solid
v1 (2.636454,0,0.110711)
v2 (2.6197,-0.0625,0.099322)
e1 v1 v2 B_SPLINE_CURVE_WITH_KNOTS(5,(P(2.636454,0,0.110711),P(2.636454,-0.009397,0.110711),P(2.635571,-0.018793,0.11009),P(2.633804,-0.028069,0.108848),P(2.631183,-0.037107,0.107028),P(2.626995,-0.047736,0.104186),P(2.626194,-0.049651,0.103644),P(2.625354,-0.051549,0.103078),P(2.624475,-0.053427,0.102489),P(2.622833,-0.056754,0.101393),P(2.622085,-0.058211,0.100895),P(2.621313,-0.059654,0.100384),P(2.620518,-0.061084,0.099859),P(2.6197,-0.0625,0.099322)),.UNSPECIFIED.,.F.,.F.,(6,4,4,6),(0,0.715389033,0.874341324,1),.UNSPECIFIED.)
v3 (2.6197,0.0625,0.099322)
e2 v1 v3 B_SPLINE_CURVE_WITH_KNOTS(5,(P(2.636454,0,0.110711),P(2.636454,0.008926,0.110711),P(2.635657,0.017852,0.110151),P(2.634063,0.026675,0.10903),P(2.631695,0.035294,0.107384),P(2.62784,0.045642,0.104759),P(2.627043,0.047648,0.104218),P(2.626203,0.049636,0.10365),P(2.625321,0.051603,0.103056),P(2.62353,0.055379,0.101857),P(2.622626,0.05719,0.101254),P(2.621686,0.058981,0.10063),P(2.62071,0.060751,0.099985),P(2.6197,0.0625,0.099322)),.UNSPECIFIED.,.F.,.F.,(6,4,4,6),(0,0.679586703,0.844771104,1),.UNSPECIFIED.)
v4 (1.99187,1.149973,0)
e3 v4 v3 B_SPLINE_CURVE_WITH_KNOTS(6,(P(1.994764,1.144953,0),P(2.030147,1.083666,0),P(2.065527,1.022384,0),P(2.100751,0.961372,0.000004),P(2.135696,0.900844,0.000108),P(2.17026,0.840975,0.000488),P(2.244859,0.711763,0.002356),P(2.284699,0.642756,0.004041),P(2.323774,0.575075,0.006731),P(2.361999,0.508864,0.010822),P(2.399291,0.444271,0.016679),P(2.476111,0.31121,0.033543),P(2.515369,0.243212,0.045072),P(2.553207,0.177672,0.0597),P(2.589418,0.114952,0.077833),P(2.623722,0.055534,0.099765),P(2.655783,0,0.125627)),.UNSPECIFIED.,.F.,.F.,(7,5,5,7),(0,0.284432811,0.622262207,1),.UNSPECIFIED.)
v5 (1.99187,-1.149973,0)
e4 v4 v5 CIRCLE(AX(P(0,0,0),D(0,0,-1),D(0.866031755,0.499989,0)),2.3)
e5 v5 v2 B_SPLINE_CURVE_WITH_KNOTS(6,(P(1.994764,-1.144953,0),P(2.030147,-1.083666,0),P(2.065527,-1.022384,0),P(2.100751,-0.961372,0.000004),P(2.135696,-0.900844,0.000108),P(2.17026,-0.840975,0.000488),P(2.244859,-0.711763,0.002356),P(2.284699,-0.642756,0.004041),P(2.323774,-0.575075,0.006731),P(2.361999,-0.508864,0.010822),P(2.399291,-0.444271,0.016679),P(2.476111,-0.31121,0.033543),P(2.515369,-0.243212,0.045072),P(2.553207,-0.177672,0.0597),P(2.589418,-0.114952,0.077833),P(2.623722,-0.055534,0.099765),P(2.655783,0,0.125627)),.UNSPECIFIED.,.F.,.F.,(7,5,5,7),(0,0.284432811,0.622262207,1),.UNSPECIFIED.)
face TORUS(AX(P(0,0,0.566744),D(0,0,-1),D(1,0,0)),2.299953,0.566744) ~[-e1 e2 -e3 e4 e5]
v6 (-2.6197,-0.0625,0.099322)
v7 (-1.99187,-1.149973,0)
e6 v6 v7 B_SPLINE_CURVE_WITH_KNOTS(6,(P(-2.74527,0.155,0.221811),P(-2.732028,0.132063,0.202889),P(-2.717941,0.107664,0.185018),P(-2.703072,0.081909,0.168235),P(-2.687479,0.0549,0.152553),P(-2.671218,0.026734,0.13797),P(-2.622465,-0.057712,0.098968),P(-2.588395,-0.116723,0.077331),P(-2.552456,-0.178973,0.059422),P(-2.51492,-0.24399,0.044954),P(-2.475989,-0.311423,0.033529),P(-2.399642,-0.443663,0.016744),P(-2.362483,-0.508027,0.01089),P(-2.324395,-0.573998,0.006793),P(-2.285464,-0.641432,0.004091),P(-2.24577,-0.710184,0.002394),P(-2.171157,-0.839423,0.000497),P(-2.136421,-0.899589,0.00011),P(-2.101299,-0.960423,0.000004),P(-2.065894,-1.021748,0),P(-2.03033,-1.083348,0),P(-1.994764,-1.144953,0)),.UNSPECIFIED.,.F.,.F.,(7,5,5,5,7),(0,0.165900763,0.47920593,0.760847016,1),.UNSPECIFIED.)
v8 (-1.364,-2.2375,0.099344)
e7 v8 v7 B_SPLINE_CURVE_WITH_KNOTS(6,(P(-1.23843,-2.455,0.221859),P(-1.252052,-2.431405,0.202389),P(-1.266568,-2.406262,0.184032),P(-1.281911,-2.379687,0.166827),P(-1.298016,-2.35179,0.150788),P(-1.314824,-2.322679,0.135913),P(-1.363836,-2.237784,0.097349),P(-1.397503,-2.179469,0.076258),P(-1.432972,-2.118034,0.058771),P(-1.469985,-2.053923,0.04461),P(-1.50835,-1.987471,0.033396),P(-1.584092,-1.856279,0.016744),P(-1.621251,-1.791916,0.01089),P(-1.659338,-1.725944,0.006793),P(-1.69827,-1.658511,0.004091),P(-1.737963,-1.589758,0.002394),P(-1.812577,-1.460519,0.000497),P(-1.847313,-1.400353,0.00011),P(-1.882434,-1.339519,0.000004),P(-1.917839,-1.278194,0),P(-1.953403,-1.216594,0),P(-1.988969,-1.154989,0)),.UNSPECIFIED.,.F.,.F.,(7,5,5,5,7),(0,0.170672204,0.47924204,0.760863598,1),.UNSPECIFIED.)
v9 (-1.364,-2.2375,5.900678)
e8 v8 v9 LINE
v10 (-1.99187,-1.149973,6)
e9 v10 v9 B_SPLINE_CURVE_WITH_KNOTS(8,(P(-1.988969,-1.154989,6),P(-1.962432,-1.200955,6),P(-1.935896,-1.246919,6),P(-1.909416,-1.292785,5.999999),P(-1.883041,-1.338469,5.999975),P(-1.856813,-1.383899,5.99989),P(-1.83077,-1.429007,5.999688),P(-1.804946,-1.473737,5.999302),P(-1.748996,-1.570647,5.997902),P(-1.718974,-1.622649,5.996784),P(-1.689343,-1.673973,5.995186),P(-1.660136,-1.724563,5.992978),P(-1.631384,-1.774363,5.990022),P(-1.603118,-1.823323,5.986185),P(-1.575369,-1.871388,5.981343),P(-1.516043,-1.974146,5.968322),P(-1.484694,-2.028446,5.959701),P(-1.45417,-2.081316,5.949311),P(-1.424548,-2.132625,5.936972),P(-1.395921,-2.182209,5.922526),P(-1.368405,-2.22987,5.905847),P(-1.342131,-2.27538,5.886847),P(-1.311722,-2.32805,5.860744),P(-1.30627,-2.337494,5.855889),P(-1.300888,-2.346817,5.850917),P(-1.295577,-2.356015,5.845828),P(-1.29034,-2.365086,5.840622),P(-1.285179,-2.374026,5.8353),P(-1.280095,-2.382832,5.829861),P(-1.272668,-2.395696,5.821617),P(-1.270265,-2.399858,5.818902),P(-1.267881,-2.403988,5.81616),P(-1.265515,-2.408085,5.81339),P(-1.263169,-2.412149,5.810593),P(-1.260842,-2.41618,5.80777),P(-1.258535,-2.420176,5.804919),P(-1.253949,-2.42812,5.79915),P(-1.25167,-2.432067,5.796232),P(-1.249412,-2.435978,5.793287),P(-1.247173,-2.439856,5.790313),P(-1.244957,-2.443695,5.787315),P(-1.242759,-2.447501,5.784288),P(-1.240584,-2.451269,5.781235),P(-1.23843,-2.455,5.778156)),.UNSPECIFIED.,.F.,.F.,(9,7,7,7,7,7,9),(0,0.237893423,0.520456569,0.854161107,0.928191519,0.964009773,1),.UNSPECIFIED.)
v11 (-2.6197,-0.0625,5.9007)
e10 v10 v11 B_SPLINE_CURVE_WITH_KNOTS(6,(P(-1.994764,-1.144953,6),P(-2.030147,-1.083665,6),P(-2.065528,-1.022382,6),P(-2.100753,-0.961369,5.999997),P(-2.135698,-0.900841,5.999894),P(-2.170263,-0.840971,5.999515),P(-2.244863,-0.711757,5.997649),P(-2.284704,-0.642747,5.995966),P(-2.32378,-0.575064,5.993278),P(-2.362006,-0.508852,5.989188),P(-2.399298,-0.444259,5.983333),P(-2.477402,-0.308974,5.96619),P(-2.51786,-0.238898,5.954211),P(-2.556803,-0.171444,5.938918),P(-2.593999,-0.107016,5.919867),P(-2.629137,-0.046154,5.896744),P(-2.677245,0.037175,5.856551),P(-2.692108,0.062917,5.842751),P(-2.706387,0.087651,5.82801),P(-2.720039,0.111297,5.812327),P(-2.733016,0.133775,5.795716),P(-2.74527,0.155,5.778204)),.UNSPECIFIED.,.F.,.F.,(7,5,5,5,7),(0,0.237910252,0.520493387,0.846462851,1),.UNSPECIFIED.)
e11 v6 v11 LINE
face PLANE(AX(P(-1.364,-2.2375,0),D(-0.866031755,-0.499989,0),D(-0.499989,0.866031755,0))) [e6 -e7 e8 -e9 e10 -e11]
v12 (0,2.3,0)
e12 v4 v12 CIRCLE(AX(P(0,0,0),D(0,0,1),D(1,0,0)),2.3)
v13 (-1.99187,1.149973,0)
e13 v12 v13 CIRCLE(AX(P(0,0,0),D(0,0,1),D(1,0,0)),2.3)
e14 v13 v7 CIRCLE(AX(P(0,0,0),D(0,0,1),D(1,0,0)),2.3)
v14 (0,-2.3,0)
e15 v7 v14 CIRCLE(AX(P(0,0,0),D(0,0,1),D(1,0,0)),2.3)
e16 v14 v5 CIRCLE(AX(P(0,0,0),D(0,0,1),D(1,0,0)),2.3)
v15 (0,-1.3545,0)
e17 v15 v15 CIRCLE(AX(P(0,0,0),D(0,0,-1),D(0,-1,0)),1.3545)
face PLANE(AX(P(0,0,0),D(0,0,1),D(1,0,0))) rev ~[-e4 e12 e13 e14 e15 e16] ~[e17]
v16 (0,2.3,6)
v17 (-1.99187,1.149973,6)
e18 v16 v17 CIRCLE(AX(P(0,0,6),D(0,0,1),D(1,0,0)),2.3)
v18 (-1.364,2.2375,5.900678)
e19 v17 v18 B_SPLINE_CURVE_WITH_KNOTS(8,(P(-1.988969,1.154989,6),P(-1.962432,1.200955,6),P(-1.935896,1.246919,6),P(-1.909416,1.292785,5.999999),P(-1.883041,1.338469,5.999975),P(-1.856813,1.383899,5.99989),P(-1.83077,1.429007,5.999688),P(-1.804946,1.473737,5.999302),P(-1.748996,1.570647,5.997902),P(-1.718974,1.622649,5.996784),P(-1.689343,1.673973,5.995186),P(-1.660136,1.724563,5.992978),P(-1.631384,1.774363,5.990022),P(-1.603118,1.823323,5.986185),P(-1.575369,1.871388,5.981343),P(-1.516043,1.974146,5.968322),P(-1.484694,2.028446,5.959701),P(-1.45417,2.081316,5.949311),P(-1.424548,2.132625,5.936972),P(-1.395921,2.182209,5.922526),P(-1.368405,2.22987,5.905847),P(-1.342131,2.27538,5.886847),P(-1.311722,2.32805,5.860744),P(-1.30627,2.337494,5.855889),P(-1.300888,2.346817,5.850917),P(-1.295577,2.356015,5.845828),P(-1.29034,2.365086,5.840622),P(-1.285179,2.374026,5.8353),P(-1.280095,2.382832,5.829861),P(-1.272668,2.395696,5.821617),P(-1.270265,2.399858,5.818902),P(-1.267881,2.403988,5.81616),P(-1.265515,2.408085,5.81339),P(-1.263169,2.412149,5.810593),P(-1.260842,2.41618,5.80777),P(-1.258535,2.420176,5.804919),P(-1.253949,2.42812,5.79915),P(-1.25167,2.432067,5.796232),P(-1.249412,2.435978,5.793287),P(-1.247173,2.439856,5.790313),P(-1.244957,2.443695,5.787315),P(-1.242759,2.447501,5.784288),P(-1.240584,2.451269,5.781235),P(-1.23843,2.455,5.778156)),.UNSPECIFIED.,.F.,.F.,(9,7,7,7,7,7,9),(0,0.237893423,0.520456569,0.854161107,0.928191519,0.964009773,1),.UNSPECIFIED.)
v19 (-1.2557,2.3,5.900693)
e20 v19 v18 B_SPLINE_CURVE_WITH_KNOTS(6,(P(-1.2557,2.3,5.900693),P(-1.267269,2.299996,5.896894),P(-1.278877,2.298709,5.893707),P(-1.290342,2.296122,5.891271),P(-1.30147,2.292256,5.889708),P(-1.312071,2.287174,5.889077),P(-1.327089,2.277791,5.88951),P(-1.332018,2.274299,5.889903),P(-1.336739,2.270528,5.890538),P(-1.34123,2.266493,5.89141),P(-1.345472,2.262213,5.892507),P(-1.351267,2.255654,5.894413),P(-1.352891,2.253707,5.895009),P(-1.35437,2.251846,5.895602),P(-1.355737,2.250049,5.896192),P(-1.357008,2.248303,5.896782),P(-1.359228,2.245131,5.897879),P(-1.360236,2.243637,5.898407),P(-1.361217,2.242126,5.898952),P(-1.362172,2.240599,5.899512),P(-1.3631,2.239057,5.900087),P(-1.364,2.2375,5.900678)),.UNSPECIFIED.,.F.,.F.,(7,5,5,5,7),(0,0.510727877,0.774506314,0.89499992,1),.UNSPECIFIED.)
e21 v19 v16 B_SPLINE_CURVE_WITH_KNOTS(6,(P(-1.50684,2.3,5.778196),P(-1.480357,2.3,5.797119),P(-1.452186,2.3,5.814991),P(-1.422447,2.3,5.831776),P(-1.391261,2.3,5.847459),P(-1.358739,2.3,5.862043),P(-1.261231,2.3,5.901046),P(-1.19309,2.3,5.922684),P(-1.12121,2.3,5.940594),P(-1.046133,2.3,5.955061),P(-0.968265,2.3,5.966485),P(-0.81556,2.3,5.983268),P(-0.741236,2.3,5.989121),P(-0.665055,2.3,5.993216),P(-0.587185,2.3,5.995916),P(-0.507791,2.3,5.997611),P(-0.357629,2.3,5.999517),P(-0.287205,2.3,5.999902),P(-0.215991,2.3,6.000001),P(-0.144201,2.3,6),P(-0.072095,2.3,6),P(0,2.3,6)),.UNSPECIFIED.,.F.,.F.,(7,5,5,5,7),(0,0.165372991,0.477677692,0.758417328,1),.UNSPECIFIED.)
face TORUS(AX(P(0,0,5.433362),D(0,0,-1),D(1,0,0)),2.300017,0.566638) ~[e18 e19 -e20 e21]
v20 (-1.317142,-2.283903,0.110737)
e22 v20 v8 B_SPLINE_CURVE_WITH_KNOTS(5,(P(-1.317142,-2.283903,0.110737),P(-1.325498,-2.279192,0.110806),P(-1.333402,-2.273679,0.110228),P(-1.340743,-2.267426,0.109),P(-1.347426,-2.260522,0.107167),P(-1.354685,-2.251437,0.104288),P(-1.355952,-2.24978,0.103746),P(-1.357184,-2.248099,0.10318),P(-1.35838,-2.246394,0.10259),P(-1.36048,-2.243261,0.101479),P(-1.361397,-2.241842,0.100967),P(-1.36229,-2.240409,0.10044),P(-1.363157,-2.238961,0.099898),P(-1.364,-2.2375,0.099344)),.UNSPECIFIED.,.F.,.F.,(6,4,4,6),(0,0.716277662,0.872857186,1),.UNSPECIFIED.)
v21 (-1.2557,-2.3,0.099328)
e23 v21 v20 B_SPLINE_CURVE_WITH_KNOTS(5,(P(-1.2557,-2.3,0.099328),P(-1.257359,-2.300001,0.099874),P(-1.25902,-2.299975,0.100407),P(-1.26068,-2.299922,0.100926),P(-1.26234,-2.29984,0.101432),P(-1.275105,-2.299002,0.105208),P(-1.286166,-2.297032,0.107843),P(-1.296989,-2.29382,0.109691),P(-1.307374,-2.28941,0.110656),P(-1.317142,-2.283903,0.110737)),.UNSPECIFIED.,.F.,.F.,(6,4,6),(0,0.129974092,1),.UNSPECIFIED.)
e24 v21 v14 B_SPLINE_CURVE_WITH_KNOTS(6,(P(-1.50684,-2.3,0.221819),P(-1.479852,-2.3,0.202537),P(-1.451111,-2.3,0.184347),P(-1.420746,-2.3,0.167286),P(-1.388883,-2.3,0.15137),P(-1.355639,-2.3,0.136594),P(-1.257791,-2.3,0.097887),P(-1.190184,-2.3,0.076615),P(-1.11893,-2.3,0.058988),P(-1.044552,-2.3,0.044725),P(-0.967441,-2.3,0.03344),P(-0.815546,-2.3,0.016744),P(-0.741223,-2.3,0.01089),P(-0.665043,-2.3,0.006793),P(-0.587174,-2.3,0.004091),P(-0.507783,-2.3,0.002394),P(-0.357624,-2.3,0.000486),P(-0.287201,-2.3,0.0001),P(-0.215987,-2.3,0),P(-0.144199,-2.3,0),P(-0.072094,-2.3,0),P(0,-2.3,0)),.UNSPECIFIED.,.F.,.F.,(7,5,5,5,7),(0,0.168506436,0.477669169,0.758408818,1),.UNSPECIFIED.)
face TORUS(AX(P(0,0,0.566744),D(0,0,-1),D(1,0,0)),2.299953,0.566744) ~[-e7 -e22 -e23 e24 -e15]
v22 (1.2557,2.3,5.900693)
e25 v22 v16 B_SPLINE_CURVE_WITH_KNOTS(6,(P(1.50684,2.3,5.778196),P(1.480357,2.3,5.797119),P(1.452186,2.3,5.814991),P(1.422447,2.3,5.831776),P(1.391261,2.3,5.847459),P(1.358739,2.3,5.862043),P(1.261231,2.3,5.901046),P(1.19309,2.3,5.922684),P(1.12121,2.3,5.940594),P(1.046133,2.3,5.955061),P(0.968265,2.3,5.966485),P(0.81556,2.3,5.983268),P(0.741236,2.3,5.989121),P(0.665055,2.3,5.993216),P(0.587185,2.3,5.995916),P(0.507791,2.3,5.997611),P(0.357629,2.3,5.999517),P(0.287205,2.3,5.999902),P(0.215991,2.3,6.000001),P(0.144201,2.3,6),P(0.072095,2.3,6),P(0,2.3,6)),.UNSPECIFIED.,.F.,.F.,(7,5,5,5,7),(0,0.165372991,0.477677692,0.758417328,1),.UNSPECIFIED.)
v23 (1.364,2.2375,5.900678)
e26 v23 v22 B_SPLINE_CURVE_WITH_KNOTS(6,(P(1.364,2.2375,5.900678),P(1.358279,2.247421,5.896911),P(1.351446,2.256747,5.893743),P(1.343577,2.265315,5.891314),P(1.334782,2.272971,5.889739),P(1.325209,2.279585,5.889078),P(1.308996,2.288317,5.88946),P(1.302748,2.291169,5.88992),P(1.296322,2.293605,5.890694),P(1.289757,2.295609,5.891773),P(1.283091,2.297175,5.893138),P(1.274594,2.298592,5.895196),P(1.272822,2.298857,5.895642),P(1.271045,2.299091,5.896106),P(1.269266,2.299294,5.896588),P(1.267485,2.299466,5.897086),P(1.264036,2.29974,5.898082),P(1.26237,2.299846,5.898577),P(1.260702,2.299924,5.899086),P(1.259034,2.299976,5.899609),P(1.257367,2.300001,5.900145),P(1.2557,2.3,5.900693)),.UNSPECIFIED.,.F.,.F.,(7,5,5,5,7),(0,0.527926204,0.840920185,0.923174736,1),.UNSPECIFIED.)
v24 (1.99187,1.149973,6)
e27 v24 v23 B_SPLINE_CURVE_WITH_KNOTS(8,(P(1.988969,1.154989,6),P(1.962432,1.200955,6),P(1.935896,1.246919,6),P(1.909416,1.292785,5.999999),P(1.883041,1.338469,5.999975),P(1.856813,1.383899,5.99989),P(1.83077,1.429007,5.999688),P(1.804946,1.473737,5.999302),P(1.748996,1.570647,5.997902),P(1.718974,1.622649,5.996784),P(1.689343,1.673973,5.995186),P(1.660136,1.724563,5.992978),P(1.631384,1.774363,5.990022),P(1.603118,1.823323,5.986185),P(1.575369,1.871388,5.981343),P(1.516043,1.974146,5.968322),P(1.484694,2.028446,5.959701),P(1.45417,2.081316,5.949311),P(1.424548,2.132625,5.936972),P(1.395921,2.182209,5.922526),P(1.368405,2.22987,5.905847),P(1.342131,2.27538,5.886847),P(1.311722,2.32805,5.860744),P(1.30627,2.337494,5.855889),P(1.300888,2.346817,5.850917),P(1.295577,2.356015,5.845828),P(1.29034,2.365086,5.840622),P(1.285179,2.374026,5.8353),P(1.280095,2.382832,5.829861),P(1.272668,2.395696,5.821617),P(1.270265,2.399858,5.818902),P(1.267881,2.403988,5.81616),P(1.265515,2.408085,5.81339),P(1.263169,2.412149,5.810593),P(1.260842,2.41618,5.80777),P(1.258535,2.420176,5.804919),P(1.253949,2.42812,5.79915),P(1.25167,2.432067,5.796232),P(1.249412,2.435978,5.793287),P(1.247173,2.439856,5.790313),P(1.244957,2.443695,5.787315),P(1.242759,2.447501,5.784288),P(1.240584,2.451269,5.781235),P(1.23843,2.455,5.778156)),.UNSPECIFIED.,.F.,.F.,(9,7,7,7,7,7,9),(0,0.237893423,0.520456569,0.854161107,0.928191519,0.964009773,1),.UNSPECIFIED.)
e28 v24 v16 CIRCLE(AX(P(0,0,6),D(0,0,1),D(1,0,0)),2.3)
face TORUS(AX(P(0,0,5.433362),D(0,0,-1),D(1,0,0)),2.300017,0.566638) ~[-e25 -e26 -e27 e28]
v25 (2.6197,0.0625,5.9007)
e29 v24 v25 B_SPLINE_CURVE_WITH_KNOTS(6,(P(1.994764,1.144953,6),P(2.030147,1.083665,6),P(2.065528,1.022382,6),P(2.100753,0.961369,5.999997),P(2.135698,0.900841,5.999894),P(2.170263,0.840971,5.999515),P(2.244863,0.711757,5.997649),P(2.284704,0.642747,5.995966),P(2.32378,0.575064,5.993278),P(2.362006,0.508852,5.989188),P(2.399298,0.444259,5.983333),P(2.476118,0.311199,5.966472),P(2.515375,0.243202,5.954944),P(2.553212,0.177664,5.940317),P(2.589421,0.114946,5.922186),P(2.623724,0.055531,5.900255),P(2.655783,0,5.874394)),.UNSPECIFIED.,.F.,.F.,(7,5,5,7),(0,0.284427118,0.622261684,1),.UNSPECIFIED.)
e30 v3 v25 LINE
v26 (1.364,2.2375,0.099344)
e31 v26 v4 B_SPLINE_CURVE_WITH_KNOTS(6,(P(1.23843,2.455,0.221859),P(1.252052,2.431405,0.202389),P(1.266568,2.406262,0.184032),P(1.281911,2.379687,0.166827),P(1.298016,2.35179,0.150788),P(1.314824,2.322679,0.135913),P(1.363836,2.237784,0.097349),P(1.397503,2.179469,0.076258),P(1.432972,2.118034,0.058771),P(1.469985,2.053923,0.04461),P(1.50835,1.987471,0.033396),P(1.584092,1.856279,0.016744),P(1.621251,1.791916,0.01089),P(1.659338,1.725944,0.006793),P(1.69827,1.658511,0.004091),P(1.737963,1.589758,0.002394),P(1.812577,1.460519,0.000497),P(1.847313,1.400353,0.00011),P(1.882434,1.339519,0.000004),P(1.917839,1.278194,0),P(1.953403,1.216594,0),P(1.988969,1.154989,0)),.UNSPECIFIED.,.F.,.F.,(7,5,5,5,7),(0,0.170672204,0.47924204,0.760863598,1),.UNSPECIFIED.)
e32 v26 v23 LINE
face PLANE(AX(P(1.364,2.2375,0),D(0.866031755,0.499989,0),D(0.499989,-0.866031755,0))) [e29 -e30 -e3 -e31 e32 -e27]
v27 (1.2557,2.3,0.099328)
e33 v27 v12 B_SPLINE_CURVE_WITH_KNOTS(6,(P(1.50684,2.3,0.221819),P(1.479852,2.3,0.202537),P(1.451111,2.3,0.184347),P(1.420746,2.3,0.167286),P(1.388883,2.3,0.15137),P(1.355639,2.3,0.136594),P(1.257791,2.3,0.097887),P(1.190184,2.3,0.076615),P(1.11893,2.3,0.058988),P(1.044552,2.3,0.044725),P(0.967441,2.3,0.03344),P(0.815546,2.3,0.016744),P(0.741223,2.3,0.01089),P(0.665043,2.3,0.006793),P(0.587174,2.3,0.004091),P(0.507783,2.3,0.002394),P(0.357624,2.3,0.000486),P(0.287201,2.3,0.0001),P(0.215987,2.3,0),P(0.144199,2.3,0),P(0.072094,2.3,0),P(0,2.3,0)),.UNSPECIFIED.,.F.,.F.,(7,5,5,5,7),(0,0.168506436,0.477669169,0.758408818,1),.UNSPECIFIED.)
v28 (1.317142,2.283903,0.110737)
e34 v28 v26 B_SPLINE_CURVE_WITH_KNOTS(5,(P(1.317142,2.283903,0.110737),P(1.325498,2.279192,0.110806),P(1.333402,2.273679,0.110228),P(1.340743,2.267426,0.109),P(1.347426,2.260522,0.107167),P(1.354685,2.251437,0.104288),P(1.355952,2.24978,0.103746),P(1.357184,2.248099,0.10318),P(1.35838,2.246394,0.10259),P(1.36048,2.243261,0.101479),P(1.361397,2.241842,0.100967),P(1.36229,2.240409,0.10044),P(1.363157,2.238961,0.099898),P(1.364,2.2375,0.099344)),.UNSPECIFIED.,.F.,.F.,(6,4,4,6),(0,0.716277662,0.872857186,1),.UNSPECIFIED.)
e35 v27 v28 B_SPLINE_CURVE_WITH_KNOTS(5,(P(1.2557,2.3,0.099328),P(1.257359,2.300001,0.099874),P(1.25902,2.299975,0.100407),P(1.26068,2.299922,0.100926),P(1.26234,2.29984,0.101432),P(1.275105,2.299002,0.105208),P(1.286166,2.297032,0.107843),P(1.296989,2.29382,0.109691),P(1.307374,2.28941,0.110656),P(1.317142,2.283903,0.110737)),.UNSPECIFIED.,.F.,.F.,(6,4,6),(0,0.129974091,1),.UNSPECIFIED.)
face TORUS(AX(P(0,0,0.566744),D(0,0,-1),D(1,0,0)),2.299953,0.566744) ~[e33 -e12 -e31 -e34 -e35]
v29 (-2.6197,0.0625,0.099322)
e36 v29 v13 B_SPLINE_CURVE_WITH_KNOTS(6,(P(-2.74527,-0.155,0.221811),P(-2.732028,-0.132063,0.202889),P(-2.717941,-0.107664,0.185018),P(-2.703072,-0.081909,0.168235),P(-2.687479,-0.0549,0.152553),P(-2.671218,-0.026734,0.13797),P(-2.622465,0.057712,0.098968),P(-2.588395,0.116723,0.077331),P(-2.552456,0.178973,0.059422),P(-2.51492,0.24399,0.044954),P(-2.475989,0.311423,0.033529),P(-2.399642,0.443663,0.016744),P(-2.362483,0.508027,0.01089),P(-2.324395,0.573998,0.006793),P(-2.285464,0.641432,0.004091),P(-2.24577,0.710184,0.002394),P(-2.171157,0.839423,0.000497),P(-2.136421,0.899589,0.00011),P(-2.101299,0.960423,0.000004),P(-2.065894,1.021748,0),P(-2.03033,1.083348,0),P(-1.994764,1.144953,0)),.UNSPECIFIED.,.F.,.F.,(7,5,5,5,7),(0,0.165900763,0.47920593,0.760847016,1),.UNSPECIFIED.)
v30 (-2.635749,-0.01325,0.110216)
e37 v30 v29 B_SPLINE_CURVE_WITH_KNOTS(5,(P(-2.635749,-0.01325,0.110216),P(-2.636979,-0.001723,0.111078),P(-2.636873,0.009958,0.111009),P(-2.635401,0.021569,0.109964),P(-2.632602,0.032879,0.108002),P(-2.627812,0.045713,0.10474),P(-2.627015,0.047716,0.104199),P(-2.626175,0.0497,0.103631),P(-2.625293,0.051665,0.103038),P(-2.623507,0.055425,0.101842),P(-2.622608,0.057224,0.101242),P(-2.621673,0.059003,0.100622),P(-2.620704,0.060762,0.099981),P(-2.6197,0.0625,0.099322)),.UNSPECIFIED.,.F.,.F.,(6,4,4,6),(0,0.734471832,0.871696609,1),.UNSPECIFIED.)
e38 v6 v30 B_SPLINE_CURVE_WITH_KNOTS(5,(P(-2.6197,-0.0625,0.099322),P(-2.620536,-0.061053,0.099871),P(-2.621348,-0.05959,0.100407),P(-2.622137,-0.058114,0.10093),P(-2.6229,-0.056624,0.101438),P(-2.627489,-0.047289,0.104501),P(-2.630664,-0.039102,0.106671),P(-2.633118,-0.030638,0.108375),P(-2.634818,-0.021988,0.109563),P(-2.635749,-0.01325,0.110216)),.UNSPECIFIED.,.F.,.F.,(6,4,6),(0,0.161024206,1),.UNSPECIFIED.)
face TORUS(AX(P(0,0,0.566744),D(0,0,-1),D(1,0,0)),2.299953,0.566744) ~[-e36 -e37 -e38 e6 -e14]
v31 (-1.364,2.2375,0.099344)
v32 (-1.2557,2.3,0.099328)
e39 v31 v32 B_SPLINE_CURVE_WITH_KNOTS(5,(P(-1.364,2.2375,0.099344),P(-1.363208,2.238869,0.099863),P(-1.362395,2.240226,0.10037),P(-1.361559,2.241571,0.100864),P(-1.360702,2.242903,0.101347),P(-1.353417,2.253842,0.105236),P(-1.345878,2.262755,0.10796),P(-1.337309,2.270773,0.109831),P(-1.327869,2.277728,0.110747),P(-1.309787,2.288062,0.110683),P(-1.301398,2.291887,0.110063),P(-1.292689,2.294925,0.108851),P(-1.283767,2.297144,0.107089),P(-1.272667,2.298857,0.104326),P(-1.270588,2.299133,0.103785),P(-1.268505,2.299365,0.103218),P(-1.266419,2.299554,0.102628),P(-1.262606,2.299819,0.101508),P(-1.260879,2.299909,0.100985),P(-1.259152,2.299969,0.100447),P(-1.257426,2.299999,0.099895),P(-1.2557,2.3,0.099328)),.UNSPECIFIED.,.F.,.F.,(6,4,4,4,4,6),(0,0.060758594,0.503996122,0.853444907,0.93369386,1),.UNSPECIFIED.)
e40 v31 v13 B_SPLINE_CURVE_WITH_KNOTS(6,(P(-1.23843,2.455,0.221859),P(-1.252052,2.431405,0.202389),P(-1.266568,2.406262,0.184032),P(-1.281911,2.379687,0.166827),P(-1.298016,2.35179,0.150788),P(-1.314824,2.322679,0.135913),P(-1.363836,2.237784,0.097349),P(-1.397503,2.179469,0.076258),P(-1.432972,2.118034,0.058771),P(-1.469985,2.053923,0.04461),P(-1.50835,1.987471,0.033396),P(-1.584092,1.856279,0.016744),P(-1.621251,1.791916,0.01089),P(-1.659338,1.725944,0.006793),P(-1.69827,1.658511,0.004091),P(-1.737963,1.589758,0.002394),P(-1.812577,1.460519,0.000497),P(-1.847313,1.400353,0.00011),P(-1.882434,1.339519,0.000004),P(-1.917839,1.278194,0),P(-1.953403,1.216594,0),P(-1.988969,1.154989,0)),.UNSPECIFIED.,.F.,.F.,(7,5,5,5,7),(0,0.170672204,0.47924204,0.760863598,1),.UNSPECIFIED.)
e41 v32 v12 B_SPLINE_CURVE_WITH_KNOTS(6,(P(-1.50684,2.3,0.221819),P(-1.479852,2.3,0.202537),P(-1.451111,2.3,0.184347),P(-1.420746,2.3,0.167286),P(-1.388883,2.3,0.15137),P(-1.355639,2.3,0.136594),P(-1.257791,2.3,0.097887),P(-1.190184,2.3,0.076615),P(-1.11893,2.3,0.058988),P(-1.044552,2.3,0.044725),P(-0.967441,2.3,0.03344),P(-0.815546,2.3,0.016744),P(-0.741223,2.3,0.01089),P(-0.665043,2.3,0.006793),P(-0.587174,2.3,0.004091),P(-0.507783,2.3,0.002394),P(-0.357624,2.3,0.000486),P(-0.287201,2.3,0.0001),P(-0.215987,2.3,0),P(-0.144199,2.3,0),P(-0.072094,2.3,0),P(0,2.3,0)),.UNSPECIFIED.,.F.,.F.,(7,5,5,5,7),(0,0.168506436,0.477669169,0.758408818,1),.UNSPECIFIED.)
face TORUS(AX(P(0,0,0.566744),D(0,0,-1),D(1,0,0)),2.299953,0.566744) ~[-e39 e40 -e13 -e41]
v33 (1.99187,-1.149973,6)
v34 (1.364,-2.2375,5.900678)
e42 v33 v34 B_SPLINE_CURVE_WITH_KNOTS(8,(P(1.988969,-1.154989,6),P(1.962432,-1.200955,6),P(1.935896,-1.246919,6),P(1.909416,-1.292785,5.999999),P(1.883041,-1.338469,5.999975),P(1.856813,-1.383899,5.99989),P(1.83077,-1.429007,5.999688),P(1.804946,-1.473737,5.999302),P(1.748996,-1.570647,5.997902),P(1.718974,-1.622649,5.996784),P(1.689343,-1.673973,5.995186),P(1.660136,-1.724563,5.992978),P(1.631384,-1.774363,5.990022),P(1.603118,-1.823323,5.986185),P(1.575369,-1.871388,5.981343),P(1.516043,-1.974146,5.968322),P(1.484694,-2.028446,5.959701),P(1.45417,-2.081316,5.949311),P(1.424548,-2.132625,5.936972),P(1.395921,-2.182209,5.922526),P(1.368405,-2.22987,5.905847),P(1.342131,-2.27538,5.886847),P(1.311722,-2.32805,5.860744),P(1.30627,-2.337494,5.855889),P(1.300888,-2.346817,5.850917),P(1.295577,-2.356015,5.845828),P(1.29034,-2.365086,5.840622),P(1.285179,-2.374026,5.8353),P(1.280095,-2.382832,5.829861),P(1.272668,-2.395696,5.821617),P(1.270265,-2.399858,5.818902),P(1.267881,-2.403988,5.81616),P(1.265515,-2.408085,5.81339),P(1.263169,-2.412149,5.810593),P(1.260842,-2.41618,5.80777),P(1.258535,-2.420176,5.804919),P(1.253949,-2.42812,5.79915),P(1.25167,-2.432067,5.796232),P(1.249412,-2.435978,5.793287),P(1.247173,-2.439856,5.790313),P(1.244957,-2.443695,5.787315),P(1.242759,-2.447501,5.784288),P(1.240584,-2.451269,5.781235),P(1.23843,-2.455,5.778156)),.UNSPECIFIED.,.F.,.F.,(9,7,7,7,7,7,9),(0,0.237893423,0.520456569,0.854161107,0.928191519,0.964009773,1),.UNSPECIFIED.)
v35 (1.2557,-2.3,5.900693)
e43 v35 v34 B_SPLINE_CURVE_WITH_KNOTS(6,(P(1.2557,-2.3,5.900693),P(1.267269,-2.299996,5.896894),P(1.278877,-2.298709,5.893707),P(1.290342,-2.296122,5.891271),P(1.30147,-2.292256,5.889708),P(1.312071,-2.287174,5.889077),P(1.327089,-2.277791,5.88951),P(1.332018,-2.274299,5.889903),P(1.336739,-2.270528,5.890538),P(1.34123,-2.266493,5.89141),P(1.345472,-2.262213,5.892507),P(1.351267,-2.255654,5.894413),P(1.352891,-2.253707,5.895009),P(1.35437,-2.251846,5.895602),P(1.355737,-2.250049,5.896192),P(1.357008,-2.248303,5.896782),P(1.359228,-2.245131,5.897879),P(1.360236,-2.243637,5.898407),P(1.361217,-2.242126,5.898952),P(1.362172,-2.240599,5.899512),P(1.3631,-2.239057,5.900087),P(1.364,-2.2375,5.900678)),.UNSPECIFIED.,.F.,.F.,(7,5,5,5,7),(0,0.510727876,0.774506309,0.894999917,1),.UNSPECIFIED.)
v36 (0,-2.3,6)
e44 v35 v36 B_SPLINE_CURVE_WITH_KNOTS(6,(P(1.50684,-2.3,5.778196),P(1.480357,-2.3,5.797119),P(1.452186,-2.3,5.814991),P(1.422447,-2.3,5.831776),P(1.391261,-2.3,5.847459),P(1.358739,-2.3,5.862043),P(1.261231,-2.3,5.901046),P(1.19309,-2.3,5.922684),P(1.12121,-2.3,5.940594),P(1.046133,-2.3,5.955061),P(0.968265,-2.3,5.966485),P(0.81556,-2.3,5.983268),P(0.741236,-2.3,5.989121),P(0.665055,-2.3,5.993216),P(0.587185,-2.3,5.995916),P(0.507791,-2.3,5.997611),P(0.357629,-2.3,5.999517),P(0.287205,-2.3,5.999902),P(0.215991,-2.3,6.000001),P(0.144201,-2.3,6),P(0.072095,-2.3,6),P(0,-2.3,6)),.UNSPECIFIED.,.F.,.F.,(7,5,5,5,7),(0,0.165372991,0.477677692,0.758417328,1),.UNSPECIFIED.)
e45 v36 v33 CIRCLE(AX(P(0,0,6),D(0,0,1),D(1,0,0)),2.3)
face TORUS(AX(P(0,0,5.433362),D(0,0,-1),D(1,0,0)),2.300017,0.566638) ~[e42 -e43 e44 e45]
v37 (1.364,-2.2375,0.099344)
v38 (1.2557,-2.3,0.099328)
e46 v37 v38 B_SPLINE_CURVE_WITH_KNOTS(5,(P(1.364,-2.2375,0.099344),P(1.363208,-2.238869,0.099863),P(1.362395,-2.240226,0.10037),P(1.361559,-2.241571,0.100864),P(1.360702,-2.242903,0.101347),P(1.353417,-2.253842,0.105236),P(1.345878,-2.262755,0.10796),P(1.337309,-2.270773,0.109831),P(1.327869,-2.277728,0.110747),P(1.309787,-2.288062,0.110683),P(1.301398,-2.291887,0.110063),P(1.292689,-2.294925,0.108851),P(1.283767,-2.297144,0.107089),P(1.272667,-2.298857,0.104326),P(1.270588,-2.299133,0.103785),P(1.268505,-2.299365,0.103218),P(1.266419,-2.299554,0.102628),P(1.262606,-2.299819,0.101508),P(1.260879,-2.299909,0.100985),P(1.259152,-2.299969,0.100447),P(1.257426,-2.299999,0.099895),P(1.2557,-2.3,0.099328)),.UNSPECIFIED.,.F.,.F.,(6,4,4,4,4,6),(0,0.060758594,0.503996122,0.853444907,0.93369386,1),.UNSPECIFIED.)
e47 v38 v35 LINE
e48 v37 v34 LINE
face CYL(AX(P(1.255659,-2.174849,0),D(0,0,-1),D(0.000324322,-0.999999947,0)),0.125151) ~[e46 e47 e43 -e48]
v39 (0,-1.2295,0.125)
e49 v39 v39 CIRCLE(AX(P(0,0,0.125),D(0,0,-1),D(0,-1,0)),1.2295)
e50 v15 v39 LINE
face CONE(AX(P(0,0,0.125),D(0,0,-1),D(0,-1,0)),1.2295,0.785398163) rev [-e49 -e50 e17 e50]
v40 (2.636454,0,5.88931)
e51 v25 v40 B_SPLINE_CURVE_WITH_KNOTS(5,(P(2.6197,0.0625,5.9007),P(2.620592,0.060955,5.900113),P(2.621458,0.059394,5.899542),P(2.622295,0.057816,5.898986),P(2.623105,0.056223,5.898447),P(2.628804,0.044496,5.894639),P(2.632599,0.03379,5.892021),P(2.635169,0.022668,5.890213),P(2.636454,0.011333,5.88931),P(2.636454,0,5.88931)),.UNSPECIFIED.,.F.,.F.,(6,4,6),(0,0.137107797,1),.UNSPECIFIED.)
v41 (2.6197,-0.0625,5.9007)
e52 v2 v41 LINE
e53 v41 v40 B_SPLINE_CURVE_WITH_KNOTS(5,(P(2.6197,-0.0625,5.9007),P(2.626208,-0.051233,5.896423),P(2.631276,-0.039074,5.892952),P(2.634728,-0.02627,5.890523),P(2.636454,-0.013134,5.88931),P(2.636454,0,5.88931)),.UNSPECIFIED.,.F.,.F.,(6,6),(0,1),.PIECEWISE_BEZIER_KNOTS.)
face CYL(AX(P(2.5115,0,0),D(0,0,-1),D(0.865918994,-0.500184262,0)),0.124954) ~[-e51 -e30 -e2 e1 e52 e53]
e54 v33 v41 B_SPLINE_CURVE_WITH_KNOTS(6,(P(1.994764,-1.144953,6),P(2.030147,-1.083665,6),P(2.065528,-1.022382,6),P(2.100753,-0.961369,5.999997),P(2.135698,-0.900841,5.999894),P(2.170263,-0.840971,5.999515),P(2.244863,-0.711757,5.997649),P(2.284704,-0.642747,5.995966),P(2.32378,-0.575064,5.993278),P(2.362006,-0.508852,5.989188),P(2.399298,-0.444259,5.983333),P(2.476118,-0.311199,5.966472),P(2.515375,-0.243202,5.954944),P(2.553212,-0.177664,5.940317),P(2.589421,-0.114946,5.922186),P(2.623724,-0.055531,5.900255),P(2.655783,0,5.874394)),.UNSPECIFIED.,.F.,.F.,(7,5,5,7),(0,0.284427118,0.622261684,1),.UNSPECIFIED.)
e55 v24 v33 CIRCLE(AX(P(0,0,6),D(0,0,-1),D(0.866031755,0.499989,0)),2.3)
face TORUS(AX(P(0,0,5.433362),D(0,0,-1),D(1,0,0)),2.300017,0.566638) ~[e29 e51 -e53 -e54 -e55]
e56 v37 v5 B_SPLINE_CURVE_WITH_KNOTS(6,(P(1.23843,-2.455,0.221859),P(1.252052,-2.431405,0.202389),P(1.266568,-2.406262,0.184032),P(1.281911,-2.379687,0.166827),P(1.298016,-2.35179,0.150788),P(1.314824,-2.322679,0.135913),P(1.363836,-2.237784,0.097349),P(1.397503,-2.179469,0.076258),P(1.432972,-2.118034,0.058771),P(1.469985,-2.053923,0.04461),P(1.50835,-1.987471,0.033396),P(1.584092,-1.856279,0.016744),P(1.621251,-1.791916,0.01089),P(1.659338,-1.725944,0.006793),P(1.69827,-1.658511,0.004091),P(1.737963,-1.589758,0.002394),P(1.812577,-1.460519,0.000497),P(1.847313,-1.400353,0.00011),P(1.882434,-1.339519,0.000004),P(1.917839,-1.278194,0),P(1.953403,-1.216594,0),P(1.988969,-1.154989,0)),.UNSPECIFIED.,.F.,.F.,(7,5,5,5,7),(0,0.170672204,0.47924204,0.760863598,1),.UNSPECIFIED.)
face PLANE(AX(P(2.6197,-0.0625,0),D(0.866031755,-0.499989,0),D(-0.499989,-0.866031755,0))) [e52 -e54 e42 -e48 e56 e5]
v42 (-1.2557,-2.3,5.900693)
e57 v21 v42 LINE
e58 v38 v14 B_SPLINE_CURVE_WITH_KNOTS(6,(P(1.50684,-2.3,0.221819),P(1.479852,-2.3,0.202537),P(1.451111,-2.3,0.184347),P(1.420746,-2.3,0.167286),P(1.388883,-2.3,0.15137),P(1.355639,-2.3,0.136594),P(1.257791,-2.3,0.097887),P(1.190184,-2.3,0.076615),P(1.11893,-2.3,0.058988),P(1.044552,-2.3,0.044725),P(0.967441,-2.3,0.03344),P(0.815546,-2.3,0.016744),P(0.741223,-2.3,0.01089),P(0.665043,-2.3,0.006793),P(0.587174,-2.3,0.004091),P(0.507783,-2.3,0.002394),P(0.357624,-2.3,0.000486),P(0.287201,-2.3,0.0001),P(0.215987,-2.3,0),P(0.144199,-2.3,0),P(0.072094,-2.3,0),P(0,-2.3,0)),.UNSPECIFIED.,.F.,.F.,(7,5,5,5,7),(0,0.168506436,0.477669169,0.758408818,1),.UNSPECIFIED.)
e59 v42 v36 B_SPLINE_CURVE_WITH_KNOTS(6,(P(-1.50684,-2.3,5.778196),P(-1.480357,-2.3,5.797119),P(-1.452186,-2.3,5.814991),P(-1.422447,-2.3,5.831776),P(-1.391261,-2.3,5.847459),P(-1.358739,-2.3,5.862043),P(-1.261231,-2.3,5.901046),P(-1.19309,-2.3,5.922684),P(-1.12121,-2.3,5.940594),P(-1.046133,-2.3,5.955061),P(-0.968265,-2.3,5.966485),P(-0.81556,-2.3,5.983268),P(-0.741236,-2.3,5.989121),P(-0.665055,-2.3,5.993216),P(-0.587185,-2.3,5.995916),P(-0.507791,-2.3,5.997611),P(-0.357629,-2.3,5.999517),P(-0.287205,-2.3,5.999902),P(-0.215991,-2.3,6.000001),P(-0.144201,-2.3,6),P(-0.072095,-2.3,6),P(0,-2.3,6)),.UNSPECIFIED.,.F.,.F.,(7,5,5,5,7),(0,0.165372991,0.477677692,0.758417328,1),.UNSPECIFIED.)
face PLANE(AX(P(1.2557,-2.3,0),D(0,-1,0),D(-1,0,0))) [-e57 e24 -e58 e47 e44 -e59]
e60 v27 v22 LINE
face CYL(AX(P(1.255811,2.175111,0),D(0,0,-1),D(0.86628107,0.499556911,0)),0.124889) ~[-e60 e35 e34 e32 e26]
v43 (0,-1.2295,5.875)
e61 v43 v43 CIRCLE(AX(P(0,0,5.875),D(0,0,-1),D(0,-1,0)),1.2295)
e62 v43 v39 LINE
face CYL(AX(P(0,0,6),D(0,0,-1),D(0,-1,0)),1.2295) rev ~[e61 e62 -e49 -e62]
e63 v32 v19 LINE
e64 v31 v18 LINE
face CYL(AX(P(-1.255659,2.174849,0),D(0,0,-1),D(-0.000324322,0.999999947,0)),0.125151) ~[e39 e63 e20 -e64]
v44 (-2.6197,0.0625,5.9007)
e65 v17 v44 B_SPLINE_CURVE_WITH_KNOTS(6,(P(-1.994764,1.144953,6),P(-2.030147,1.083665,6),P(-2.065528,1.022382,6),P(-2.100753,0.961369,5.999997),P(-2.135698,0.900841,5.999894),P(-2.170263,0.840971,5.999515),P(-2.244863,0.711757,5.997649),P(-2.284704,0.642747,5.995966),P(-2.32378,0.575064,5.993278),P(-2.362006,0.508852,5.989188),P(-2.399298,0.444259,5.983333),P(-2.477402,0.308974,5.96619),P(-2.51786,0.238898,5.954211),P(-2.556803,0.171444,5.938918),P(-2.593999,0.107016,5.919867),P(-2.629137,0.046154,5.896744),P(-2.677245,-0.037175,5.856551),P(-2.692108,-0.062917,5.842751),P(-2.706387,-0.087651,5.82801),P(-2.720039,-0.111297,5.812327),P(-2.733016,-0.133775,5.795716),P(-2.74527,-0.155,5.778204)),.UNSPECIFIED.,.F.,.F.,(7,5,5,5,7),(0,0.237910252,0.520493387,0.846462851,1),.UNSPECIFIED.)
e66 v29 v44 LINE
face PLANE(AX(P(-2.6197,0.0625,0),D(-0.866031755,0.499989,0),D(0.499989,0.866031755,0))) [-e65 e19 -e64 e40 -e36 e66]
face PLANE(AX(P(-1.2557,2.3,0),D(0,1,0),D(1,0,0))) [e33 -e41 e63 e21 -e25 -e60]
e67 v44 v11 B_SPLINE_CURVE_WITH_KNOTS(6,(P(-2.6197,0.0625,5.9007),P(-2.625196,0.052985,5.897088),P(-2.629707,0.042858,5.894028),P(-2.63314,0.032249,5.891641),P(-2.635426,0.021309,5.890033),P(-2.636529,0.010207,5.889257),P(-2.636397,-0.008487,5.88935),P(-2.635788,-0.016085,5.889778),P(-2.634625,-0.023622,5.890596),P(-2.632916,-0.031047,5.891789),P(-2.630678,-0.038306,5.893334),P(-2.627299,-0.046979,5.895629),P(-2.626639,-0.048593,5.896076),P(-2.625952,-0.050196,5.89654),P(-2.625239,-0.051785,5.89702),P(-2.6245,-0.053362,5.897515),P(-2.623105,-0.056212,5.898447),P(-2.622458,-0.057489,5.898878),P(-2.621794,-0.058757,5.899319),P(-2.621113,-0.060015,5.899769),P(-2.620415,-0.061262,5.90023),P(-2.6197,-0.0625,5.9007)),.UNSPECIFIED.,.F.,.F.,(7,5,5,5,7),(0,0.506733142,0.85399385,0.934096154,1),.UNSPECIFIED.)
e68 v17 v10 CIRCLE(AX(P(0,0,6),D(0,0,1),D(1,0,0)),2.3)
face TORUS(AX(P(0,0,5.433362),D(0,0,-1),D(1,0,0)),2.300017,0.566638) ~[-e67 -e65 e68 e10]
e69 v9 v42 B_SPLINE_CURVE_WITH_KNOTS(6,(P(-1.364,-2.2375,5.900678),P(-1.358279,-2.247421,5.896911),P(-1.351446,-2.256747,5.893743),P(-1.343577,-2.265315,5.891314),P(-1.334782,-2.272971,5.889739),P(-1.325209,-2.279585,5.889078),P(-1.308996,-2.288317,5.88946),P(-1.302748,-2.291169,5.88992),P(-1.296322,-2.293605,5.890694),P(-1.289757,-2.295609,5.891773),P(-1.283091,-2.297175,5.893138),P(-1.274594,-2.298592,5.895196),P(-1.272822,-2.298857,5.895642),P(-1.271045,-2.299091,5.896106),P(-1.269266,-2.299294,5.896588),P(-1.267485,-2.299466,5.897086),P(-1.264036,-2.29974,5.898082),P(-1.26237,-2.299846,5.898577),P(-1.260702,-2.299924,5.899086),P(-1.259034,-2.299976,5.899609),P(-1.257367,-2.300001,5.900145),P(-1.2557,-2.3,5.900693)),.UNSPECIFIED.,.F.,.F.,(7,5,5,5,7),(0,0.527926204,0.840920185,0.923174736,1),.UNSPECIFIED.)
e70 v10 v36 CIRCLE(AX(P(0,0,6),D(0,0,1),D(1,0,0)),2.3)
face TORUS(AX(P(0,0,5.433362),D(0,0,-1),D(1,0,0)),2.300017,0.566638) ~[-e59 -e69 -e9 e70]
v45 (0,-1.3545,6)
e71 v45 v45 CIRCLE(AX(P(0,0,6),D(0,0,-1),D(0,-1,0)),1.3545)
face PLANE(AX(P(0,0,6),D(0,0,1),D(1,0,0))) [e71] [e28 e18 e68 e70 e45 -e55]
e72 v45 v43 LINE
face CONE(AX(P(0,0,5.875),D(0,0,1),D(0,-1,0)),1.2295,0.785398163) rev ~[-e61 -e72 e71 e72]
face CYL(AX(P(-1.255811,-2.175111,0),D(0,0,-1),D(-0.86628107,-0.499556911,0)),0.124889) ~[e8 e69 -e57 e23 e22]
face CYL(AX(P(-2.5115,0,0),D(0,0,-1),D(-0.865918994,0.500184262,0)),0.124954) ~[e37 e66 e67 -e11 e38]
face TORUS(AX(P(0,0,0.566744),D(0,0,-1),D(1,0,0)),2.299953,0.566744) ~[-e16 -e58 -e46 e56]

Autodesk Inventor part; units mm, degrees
ref_plane "YZ Plane" through (0, 0, 0) normal (1, 0, 0) x (0, 1, 0)
ref_plane "XZ Plane" through (0, 0, 0) normal (0, 1, 0) x (-1, 0, 0)
ref_plane "XY Plane" through (0, 0, 0) normal (0, 0, 1) x (1, 0, 0)
sketch "Sketch1" plane through (0, 0, 0) normal (0, 0, 1) x (1, 0, 0)
  line L0 (2.6197, -0.0625) -> (1.364, -2.2375)
  line L1 (1.2557, -2.3) -> (-1.2557, -2.3)
  line L2 (-1.364, -2.2375) -> (-2.6197, -0.0625)
  line L3 (-2.6197, 0.0625) -> (-1.364, 2.2375)
  line L4 (-1.2557, 2.3) -> (1.2557, 2.3)
  line L5 (1.364, 2.2375) -> (2.6197, 0.0625)
  arc A0 (-1.2557, 2.3) -> (-1.364, 2.2375) centre (-1.2557, 2.175) ccw
  arc A1 (-2.6197, 0.0625) -> (-2.6197, -0.0625) centre (-2.5115, 0) ccw
  arc A2 (-1.364, -2.2375) -> (-1.2557, -2.3) centre (-1.2557, -2.175) ccw
  arc A3 (1.2557, -2.3) -> (1.364, -2.2375) centre (1.2557, -2.175) ccw
  arc A4 (2.6197, -0.0625) -> (2.6197, 0.0625) centre (2.5115, 0) ccw
  arc A5 (1.364, 2.2375) -> (1.2557, 2.3) centre (1.2557, 2.175) ccw
  point P0 (0, 0)
  point P1 (2.6558, 0)
  point P2 (1.3279, -2.3)
  point P3 (-1.3279, -2.3)
  point P4 (-2.6558, 0)
  point P5 (-1.3279, 2.3)
  point P6 (1.3279, 2.3)
  dimension "d36" = 4.6
  dimension "d37" = 0.125
extrude "Extrusion1" add sketch "Sketch1" along normal blind 6
sketch "草圖5" plane through (0, 0, 6) normal (0, 0, 1) x (1, 0, 0)
  point P0 (0, 0)
  point P1 (0, 0)
hole "孔2" at (0, 0, 6) direction (0, 0, -1) diameter 2.459 end through all thread size "M3x0.5" class "6H" standard "ANSI Metric M Profile"
chamfer "倒角2" distance 0.125 angle 45 2 edges at (0, 1.2295, 6) (0, 1.2295, 0)
sketch "草圖6" plane through (0, 0, 0) normal (0, 1, 0) x (-1, 0, 0)
  line L0 (-2.3, 0) -> (-2.8, 0)
  line L1 (-2.8, 6) -> (-2.3, 6)
  line L2 (-2.8, 6) -> (-2.8, 5.7)
  line L3 (-2.8, 0) -> (-2.8, 0.3)
  arc A0 (-2.3, 6) -> (-2.8, 5.7) centre (-2.3, 5.4333) ccw
  arc A1 (-2.8, 0.3) -> (-2.3, 0) centre (-2.3, 0.5667) ccw
  line L4 (0, 0) -> (0, 6)
  dimension "d48" = 6
  dimension "d50" = 2.3
  dimension "d51" = 2.3
  dimension "d52" = 0.5
  dimension "d53" = 0.3
  dimension "d54" = 0.3
revolve "迴轉2" cut sketch "草圖6" angle 360 about axis through (0, 0, 0) along (0, 0, 1)
properties part number "nut_rod_M3_8"
